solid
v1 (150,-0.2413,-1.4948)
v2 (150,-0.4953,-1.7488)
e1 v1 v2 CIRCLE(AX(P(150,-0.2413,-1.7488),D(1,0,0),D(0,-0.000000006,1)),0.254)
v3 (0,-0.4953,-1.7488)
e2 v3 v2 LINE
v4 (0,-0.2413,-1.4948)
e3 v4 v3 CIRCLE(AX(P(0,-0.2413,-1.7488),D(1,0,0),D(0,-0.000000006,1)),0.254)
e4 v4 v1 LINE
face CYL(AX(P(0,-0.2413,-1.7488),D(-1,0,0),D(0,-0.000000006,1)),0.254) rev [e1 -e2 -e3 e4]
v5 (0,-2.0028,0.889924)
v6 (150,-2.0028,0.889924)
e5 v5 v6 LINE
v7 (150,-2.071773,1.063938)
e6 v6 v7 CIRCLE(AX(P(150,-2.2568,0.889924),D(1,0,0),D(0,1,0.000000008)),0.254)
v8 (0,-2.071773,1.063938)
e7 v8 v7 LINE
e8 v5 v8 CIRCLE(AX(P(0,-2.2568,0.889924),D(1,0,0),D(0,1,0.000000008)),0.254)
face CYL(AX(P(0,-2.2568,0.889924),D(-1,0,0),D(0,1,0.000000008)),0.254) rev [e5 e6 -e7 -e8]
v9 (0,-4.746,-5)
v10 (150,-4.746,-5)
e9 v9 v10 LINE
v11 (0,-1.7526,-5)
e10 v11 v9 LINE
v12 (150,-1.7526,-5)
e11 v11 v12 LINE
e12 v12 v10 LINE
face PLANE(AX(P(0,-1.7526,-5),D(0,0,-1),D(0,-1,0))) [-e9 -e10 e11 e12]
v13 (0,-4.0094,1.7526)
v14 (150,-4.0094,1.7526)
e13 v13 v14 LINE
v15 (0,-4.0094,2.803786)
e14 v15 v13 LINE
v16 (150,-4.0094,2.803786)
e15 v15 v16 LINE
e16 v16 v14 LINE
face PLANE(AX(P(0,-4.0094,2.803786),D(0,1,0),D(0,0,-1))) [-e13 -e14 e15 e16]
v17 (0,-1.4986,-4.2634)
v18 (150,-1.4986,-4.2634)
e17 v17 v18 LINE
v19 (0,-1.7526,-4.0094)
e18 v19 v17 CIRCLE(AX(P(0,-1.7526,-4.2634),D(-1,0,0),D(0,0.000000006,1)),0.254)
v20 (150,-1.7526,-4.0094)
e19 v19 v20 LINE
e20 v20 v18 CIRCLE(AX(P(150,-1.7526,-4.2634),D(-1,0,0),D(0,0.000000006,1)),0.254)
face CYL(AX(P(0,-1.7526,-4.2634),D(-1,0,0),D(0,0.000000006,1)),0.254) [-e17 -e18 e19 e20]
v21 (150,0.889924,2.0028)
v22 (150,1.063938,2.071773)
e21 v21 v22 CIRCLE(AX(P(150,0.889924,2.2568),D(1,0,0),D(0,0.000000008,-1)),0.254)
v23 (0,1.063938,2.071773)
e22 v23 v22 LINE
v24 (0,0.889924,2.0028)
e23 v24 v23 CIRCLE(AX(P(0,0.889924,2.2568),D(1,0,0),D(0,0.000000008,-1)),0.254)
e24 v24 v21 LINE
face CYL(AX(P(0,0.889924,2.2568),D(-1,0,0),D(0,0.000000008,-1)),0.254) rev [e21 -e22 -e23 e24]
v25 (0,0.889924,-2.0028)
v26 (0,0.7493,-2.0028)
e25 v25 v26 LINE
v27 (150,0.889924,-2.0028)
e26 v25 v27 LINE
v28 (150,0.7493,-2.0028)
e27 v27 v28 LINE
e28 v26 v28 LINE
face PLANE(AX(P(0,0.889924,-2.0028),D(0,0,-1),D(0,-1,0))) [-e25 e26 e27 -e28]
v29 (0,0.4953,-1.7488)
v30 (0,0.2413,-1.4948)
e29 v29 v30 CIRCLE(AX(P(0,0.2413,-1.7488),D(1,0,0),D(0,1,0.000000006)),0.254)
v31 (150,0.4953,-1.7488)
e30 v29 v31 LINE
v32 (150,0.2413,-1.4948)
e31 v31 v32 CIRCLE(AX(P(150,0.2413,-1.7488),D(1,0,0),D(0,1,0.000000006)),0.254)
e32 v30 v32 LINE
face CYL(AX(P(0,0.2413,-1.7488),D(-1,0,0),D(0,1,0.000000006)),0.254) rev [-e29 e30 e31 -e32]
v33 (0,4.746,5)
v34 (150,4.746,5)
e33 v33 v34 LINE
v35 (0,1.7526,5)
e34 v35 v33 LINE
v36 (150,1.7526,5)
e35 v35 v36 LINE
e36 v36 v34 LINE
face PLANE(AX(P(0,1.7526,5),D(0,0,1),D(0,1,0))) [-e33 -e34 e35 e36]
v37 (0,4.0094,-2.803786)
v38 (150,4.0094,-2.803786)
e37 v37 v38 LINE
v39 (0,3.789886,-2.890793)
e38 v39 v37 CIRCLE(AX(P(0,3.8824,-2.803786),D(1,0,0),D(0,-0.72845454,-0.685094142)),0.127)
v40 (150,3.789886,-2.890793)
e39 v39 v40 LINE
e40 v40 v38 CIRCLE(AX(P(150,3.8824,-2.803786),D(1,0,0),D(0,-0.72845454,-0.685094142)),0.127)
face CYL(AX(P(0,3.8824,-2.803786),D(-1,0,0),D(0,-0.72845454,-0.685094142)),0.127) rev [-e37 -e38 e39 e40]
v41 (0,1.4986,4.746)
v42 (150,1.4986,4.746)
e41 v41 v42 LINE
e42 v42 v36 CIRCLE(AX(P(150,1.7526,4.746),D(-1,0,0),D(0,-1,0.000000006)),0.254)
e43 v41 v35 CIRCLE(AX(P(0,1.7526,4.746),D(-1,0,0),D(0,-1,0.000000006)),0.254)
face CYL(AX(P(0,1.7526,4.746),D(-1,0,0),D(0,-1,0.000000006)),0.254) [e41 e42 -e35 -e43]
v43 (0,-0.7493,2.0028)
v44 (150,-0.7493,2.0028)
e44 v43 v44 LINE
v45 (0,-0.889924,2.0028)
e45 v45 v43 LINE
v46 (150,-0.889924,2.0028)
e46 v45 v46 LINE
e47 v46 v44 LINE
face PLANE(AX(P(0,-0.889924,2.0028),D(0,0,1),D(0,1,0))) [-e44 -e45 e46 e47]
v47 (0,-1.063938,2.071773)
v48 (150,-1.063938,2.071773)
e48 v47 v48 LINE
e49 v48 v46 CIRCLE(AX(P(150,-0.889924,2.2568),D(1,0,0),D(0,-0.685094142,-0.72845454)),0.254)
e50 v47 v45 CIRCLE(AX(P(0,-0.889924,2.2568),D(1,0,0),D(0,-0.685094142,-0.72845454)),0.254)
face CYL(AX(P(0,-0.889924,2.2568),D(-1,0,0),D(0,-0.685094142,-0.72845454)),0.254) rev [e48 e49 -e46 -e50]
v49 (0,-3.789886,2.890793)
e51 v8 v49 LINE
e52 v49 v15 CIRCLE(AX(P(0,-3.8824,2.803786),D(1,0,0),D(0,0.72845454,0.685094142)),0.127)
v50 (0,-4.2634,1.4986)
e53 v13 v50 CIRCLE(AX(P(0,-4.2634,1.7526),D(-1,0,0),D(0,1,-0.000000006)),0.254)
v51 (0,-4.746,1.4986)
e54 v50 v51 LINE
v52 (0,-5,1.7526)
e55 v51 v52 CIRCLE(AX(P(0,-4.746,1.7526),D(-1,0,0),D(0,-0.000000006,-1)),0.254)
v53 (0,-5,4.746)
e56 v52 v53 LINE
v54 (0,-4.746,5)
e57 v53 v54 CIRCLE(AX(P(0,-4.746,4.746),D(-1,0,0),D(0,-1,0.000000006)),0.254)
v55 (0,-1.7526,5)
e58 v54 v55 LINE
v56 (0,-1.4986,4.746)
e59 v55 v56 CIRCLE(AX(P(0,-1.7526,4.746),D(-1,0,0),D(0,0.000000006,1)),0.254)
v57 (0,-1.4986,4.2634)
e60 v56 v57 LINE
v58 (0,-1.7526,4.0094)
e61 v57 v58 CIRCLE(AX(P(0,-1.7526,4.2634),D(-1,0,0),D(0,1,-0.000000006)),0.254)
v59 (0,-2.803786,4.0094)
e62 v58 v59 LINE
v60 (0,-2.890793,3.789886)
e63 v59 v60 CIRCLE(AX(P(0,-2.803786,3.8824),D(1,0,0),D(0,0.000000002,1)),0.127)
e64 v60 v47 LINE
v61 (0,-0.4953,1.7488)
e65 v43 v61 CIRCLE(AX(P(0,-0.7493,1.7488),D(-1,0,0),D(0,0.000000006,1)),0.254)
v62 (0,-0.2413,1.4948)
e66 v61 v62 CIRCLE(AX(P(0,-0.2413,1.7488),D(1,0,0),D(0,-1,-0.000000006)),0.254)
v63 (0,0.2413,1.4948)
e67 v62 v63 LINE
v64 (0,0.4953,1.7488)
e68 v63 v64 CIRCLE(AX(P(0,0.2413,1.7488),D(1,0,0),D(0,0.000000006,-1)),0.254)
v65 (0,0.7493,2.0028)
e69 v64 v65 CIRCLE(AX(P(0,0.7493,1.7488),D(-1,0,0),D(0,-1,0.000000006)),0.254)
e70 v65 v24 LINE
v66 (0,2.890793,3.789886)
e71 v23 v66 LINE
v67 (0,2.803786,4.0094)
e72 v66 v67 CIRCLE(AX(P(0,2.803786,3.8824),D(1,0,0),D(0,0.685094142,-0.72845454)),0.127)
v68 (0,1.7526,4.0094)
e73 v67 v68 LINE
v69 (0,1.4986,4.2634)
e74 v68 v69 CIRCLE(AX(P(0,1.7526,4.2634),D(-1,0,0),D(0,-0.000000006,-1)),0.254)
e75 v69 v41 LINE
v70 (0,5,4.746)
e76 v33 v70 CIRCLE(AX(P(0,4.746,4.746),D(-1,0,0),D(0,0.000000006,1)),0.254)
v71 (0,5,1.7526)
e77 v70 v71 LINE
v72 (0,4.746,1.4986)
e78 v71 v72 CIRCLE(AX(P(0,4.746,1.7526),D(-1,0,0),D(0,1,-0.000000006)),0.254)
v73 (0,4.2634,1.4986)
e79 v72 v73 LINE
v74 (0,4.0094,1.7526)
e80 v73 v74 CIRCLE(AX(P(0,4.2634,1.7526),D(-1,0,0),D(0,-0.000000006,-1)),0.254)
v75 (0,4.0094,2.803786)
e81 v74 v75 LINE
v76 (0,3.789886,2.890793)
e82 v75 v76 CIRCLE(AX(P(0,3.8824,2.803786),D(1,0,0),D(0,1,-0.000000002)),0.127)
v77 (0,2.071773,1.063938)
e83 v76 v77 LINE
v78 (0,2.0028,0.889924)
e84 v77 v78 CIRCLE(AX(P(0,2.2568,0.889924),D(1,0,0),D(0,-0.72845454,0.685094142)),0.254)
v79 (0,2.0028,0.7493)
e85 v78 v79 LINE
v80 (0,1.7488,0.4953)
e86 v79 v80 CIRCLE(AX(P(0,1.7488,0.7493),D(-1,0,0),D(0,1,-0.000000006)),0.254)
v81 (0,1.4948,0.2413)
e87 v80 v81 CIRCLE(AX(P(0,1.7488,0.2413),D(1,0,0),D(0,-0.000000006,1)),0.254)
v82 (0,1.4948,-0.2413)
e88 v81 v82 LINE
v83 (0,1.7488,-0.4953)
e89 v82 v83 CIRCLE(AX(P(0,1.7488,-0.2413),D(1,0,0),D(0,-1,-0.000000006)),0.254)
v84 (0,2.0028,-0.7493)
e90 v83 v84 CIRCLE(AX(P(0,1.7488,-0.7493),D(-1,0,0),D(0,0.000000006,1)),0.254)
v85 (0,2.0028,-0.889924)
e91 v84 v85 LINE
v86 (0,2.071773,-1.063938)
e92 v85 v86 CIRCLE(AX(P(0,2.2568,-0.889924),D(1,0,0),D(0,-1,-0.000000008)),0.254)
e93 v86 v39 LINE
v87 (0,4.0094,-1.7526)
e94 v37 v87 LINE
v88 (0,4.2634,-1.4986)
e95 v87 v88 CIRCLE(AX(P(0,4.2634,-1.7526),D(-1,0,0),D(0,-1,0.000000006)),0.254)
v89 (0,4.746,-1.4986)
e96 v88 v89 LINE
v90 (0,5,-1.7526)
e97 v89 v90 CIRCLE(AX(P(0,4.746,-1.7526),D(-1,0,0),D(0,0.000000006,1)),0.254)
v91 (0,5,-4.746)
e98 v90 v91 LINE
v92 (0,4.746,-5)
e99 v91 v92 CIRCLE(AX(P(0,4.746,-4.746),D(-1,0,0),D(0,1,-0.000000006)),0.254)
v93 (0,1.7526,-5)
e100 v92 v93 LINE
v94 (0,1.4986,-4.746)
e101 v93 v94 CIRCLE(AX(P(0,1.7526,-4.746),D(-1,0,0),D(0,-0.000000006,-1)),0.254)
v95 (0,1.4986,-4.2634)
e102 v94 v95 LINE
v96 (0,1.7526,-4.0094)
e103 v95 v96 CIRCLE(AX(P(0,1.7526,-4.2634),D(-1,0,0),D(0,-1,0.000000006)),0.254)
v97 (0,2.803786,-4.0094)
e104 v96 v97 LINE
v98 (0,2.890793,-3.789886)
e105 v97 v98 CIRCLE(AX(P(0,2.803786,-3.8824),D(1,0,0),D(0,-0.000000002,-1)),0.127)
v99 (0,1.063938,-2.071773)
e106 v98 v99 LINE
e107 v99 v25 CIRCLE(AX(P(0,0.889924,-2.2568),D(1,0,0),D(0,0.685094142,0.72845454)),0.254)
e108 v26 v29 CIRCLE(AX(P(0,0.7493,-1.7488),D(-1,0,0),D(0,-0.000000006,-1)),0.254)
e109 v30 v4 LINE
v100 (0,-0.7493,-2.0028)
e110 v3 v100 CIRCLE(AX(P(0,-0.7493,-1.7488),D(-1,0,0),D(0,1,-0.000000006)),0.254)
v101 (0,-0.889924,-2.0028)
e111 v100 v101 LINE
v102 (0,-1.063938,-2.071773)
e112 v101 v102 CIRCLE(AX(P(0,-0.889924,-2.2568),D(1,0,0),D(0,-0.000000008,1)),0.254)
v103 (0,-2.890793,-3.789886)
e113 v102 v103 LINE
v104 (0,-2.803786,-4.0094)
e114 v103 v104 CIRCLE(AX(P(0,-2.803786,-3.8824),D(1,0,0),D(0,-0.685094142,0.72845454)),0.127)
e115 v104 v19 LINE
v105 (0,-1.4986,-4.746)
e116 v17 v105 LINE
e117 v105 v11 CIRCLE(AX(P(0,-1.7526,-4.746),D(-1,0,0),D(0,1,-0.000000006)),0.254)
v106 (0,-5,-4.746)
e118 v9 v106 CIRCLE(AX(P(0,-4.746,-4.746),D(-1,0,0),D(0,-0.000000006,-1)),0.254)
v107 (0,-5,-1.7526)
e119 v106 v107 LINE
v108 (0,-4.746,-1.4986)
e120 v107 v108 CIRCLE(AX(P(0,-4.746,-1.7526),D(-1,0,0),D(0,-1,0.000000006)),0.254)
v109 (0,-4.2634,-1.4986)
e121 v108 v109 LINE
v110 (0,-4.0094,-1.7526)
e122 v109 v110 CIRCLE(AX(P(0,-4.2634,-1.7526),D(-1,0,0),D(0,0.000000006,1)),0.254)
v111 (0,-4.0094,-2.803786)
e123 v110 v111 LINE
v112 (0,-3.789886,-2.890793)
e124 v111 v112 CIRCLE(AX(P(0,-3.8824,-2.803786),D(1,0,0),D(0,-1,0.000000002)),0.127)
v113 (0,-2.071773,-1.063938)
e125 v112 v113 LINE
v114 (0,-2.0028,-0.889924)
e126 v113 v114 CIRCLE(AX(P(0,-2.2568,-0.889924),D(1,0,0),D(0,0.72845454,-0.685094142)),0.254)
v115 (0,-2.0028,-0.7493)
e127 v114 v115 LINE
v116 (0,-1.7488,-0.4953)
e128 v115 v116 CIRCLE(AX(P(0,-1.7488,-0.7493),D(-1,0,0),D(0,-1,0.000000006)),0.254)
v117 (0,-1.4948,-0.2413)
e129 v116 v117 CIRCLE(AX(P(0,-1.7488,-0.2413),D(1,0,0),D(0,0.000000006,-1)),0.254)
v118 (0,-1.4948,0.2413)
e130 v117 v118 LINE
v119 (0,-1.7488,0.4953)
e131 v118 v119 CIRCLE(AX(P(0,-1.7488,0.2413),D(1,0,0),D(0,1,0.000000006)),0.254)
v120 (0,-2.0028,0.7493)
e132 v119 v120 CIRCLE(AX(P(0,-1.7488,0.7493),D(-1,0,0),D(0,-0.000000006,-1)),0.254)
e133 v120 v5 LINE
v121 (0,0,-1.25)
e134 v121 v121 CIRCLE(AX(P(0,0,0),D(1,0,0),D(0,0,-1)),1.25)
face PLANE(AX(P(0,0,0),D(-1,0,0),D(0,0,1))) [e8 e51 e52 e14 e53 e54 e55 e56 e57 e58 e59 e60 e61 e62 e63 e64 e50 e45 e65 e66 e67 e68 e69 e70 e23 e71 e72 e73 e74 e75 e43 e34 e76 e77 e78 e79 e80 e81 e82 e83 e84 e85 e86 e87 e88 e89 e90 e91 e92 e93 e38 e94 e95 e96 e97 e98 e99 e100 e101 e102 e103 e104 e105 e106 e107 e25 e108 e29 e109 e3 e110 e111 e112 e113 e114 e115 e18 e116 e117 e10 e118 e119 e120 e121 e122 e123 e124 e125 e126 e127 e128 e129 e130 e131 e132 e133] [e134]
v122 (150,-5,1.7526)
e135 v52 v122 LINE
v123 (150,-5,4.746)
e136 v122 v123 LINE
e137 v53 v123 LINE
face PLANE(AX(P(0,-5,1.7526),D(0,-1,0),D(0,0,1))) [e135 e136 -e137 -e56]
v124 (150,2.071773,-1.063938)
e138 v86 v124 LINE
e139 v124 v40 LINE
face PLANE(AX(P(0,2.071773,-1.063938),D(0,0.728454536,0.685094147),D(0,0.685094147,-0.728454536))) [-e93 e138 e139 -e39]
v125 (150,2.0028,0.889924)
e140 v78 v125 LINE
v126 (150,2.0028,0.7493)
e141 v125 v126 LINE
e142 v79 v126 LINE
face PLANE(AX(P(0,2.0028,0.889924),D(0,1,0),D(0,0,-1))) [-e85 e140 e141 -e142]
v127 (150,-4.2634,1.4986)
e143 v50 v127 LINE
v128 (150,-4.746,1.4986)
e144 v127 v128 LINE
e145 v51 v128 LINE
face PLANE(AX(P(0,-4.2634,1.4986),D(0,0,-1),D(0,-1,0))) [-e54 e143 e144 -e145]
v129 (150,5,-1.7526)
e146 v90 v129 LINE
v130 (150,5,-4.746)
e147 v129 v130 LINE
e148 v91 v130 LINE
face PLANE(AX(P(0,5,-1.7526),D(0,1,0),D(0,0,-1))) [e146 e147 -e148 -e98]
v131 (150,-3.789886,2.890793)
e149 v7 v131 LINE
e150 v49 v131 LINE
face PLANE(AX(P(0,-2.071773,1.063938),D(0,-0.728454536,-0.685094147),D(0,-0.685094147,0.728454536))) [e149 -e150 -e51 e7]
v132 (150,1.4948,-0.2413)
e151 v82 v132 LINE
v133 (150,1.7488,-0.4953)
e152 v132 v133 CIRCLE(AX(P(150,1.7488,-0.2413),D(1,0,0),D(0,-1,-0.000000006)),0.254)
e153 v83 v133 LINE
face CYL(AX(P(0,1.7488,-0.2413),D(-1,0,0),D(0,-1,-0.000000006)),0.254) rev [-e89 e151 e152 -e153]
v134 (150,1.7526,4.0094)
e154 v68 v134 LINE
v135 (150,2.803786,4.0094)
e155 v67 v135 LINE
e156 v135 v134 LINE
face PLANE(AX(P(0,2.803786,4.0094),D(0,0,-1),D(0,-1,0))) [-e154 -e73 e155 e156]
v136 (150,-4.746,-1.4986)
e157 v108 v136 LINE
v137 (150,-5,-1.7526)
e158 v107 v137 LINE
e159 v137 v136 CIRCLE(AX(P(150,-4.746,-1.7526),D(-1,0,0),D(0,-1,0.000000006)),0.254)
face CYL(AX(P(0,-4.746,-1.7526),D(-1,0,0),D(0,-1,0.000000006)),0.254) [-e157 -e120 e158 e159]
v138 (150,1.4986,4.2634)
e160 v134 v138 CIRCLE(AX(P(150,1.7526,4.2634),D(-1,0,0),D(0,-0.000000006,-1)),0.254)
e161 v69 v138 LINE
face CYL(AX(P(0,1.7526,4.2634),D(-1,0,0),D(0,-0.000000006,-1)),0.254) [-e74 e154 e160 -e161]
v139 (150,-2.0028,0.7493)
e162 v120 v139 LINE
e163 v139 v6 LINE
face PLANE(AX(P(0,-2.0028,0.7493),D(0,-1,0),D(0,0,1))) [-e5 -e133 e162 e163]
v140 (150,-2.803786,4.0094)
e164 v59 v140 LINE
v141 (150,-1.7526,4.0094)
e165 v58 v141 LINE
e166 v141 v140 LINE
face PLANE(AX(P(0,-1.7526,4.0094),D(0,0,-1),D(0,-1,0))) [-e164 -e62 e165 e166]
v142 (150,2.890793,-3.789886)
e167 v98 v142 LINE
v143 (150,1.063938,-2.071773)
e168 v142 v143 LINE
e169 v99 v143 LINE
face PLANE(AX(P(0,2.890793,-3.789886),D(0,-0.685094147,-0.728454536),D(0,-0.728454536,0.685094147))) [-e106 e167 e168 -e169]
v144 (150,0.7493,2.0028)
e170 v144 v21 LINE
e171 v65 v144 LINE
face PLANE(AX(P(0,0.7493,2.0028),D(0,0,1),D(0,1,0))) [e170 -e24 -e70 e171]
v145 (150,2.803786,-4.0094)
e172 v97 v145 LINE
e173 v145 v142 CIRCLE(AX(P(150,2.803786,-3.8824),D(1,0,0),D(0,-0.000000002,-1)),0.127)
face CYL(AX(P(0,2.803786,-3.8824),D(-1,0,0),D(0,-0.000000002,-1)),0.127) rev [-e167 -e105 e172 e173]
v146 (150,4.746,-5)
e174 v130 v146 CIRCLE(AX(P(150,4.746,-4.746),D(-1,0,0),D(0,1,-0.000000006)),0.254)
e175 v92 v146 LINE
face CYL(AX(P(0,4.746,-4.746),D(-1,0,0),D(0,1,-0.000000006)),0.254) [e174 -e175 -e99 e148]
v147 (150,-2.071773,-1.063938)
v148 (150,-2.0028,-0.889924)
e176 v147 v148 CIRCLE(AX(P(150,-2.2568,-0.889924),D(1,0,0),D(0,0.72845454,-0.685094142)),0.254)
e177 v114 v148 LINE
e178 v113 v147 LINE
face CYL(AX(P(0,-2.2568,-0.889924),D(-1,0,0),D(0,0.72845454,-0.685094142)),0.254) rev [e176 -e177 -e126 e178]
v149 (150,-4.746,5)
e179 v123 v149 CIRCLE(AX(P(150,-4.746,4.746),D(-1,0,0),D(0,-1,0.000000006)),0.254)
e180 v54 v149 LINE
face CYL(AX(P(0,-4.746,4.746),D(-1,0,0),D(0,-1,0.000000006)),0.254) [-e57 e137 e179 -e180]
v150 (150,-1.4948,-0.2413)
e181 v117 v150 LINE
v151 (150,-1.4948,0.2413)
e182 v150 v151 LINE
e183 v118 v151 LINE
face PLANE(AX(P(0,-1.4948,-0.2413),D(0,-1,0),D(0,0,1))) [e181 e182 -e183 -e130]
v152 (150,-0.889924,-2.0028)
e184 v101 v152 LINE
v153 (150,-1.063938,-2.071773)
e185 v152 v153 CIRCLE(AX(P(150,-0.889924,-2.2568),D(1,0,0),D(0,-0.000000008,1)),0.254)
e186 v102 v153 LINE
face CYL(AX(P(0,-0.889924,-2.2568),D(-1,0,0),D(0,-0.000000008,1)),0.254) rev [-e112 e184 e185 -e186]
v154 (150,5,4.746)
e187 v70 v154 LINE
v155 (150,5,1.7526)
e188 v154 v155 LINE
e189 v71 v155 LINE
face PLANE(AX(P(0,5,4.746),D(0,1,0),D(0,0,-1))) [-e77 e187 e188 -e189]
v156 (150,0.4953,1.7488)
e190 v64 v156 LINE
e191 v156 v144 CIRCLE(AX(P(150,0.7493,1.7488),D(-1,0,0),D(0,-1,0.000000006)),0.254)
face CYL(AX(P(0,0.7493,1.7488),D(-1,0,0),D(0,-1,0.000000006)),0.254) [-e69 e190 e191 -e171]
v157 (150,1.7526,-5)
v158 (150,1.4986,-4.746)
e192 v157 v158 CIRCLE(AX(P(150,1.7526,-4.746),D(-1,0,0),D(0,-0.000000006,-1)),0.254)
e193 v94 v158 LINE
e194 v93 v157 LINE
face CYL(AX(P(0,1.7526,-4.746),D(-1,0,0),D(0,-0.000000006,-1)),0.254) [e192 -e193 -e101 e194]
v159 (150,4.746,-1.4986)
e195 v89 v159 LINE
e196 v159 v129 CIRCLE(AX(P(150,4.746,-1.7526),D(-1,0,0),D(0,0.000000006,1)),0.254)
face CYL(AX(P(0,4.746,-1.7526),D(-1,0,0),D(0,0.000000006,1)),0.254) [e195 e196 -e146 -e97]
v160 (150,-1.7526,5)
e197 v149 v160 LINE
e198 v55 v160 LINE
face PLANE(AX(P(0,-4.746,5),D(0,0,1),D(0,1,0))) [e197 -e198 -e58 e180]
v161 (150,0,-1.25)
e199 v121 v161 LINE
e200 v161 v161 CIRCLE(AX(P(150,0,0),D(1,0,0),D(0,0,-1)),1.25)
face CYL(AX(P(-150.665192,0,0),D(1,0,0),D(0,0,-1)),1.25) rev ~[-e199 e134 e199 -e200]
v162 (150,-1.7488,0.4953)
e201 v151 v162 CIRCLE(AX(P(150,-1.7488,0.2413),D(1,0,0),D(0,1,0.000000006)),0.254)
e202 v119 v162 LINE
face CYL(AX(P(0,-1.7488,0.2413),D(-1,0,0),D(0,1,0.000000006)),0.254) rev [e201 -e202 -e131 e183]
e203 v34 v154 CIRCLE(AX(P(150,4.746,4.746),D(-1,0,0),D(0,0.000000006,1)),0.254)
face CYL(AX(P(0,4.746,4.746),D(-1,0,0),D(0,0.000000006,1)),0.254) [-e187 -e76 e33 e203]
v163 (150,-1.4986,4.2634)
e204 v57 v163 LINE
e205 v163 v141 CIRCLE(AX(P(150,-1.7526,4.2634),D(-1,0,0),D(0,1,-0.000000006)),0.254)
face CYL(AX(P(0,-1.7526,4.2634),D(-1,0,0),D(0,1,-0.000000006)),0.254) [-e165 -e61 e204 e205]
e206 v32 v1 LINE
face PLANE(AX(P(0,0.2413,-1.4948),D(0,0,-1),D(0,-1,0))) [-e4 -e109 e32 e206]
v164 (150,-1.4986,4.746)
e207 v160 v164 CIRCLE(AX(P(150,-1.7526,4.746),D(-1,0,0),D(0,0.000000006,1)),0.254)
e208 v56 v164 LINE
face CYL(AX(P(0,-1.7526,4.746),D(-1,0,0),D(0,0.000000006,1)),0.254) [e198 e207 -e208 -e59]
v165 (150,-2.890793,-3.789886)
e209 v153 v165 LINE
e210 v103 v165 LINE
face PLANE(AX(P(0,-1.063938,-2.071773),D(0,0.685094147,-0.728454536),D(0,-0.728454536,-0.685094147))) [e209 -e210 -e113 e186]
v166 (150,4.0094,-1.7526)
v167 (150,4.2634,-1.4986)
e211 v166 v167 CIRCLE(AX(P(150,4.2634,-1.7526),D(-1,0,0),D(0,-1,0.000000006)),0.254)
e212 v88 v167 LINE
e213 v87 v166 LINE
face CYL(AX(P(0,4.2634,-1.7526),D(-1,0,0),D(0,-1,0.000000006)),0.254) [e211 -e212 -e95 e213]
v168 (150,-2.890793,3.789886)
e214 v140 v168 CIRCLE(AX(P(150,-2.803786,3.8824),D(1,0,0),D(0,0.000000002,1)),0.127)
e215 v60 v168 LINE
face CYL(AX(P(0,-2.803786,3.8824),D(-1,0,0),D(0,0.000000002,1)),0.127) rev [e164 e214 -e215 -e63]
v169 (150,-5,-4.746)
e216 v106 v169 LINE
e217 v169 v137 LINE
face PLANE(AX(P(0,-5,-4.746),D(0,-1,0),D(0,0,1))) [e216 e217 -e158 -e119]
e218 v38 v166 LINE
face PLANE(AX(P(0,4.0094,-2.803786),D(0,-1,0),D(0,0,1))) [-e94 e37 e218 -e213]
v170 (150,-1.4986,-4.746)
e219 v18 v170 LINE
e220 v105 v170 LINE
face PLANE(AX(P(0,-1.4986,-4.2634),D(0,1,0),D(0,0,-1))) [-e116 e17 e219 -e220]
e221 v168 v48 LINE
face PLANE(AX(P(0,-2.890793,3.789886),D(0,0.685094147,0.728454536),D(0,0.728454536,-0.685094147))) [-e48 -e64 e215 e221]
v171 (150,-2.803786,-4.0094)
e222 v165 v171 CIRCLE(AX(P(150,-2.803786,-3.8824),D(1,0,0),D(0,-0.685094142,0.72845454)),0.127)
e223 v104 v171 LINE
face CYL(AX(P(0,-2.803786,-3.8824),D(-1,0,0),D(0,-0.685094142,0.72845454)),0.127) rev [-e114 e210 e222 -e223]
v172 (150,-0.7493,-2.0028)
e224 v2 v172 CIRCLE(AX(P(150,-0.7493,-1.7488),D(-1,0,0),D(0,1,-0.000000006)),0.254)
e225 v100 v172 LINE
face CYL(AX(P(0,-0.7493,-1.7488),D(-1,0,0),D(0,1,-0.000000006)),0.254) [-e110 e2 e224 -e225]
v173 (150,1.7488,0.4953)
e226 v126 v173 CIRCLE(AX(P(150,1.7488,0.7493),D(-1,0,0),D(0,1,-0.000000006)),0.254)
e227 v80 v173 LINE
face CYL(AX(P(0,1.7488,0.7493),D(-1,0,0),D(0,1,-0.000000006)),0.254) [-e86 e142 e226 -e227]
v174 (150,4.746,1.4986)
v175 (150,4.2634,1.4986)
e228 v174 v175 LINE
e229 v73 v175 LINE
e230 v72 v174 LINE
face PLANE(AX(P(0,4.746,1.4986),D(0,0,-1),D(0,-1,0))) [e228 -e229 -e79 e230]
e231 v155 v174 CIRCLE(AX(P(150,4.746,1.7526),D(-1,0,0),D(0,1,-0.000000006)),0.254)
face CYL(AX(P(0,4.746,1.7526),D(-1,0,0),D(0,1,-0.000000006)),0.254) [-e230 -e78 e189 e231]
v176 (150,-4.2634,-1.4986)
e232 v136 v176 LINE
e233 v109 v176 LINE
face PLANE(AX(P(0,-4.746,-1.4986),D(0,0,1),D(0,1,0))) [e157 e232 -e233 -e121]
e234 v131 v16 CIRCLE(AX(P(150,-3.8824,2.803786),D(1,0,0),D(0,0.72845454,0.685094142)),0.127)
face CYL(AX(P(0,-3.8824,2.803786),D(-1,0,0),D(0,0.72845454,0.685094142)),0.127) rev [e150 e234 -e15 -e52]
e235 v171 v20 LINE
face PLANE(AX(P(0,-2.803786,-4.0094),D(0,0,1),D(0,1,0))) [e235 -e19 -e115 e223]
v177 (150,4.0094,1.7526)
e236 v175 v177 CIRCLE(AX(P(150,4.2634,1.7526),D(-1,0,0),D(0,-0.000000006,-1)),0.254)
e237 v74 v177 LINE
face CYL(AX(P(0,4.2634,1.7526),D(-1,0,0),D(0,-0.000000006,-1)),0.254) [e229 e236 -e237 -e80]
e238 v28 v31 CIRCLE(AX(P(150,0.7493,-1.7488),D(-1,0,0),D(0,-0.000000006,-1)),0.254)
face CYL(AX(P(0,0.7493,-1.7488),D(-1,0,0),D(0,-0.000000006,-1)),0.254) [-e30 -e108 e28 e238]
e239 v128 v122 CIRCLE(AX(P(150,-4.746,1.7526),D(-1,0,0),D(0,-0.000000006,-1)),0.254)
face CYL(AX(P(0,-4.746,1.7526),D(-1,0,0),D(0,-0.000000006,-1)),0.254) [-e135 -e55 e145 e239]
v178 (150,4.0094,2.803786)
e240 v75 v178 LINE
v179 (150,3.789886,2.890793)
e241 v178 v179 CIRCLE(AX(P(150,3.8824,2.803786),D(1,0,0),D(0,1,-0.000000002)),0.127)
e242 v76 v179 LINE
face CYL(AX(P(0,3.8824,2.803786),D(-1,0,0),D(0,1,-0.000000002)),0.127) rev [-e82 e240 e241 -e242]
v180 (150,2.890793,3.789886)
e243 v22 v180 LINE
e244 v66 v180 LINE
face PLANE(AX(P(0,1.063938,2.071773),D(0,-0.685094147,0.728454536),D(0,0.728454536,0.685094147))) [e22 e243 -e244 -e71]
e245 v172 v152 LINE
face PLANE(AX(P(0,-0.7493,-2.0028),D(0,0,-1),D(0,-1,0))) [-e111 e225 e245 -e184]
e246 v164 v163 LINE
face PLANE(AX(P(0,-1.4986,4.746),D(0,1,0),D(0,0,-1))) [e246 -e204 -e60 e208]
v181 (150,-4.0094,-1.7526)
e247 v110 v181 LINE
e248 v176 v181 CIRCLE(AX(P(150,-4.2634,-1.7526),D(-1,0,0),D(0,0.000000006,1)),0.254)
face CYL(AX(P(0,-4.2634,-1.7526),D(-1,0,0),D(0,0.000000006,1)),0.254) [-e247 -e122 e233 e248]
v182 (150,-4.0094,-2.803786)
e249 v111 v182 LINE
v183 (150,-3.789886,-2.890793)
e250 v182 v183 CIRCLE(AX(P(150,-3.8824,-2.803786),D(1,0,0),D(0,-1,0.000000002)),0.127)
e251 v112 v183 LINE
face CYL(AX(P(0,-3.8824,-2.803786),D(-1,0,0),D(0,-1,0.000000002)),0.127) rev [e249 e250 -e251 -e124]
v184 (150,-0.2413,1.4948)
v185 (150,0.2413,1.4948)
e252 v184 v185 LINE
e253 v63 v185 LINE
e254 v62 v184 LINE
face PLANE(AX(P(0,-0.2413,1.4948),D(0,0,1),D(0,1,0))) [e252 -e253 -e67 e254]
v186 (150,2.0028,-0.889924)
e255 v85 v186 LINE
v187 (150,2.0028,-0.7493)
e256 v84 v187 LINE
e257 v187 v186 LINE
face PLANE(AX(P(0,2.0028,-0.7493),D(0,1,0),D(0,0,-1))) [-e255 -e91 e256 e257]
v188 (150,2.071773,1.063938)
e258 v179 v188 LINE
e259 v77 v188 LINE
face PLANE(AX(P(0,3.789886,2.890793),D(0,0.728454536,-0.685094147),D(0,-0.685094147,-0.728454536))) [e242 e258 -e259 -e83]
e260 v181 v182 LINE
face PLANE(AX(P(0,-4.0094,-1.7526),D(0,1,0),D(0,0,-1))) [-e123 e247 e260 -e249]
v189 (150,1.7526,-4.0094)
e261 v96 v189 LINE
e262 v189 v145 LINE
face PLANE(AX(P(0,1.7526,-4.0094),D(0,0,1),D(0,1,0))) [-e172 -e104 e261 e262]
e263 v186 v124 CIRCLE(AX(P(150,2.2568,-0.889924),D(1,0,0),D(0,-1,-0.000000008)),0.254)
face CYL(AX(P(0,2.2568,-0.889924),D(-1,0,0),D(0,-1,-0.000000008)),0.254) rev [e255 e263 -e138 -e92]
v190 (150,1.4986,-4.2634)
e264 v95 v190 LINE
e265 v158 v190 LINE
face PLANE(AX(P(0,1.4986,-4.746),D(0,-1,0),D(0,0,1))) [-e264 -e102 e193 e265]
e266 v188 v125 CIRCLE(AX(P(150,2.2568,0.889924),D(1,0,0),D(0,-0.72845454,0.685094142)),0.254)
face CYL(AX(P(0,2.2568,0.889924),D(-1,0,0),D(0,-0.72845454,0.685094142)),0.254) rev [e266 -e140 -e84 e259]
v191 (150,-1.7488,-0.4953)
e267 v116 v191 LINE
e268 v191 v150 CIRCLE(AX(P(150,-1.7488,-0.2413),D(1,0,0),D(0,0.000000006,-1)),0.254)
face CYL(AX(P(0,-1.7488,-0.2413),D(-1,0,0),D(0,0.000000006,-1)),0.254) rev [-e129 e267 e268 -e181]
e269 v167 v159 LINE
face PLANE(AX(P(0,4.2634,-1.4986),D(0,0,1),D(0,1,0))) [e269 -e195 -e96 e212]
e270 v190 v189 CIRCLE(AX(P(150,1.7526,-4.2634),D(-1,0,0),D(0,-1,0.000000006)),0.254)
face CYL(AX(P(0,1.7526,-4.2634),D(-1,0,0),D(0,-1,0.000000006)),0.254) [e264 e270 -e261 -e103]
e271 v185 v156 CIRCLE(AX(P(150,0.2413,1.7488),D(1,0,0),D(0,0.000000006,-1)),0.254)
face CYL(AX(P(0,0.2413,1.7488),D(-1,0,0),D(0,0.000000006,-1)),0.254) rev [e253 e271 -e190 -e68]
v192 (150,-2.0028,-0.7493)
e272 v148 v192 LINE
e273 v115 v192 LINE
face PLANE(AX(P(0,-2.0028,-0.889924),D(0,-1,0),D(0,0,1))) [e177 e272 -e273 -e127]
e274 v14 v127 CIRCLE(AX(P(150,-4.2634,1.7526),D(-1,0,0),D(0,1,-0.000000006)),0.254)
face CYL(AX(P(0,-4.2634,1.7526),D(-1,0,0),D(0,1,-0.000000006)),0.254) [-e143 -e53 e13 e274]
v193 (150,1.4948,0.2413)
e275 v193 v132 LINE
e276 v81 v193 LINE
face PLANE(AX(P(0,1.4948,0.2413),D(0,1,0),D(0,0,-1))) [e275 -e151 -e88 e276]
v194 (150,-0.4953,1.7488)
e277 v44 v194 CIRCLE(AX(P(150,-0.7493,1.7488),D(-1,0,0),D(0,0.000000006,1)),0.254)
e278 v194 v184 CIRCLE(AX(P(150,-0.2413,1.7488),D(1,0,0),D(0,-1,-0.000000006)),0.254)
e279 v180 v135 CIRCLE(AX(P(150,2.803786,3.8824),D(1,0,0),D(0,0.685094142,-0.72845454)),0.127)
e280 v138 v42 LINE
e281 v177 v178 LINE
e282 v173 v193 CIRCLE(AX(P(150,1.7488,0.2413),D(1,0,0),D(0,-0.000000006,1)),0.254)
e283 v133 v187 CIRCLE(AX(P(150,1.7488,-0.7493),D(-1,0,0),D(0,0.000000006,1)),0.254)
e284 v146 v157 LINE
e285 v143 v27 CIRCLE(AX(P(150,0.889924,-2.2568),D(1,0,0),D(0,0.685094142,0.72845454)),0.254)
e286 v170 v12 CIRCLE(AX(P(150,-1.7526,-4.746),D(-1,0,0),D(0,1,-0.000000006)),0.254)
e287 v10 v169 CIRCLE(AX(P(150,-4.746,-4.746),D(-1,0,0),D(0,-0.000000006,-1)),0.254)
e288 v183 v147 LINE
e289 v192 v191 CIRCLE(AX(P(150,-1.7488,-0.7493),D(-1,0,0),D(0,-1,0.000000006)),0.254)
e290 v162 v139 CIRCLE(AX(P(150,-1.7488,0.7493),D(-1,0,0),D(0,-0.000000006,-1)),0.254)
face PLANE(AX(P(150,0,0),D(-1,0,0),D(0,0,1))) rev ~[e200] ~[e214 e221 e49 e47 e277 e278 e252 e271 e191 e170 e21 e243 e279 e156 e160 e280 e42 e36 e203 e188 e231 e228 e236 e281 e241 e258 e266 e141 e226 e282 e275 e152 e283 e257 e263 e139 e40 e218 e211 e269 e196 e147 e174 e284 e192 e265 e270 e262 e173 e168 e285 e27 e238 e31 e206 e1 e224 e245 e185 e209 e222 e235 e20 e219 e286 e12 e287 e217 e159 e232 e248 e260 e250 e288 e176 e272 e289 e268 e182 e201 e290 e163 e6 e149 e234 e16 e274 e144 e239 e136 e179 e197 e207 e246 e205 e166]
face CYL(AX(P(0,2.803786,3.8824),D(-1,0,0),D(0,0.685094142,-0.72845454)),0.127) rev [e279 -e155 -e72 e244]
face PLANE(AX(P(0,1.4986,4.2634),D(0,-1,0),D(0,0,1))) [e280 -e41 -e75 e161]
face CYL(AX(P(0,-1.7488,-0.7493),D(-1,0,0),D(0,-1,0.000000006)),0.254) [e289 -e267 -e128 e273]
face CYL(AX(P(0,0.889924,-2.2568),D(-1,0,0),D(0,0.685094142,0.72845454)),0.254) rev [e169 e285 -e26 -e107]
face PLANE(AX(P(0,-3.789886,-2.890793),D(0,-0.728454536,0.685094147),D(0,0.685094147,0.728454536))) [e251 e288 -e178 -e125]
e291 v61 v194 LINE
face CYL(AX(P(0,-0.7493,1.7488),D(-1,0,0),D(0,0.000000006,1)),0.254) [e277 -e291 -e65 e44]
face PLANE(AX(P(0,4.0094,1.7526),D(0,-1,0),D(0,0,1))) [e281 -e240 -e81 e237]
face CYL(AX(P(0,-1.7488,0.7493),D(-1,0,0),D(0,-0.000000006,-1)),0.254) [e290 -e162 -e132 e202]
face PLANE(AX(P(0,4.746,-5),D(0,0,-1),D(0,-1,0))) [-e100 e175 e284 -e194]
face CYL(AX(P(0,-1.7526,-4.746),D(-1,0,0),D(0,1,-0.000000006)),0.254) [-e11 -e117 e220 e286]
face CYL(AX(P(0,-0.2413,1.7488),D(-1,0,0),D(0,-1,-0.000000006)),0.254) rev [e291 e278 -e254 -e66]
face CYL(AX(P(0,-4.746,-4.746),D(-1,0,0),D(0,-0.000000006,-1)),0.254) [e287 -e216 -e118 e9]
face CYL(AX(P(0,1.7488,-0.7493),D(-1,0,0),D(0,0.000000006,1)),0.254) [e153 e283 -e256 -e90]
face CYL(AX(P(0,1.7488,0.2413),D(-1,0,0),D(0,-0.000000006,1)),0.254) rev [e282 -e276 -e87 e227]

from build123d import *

# Parameters (mm, degrees)
ESTRUSIONE_ESTRUSIONE1_DEPTH = 150
FORO_FILETTATO_M3X0_5_1_D    = 2.5


with BuildPart() as part:
    # Sketch1 → Estrusione-Estrusione1 (new body)
    with BuildSketch(Plane(origin=(0, 0, 0), x_dir=(0, 0, -1), z_dir=(1, 0, 0))):
        with BuildLine():
            Line((-0.2413, 1.4948), (0.2413, 1.4948))
            ThreePointArc((0.2413, 1.4948), (0.420905122, 1.569194878), (0.4953, 1.7488))
            ThreePointArc((0.4953, 1.7488), (0.569694878, 1.928405122), (0.7493, 2.0028))
            Line((0.7493, 2.0028), (0.889923986, 2.0028))
            ThreePointArc((0.889923986, 2.0028), (0.983516259, 2.020671886), (1.063937899, 2.071772548))
            Line((1.063937899, 2.071772548), (2.890793, 3.789886274))
            ThreePointArc((2.890793, 3.789886274), (2.921850101, 3.929196137), (2.803786044, 4.0094))
            Line((2.803786044, 4.0094), (1.7526, 4.0094))
            ThreePointArc((1.7526, 4.0094), (1.572994878, 4.083794878), (1.4986, 4.2634))
            Line((1.4986, 4.2634), (1.4986, 4.746))
            ThreePointArc((1.4986, 4.746), (1.572994878, 4.925605122), (1.7526, 5))
            Line((1.7526, 5), (4.746, 5))
            ThreePointArc((4.746, 5), (4.925605122, 4.925605122), (5, 4.746))
            Line((5, 4.746), (5, 1.7526))
            ThreePointArc((5, 1.7526), (4.925605122, 1.572994878), (4.746, 1.4986))
            Line((4.746, 1.4986), (4.2634, 1.4986))
            ThreePointArc((4.2634, 1.4986), (4.083794878, 1.572994878), (4.0094, 1.7526))
            Line((4.0094, 1.7526), (4.0094, 2.803786044))
            ThreePointArc((4.0094, 2.803786044), (3.929196137, 2.921850101), (3.789886274, 2.890793))
            Line((3.789886274, 2.890793), (2.071772548, 1.063937899))
            ThreePointArc((2.071772548, 1.063937899), (2.020671886, 0.983516259), (2.0028, 0.889923986))
            Line((2.0028, 0.889923986), (2.0028, 0.7493))
            ThreePointArc((2.0028, 0.7493), (1.928405122, 0.569694878), (1.7488, 0.4953))
            ThreePointArc((1.7488, 0.4953), (1.569194878, 0.420905122), (1.4948, 0.2413))
            Line((1.4948, 0.2413), (1.4948, -0.2413))
            ThreePointArc((1.4948, -0.2413), (1.569194878, -0.420905122), (1.7488, -0.4953))
            ThreePointArc((1.7488, -0.4953), (1.928405122, -0.569694878), (2.0028, -0.7493))
            Line((2.0028, -0.7493), (2.0028, -0.889923986))
            ThreePointArc((2.0028, -0.889923986), (2.020671886, -0.983516259), (2.071772548, -1.063937899))
            Line((2.071772548, -1.063937899), (3.789886274, -2.890793))
            ThreePointArc((3.789886274, -2.890793), (3.929196137, -2.921850101), (4.0094, -2.803786044))
            Line((4.0094, -2.803786044), (4.0094, -1.7526))
            ThreePointArc((4.0094, -1.7526), (4.083794878, -1.572994878), (4.2634, -1.4986))
            Line((4.2634, -1.4986), (4.746, -1.4986))
            ThreePointArc((4.746, -1.4986), (4.925605122, -1.572994878), (5, -1.7526))
            Line((5, -1.7526), (5, -4.746))
            ThreePointArc((5, -4.746), (4.925605122, -4.925605122), (4.746, -5))
            Line((4.746, -5), (1.7526, -5))
            ThreePointArc((1.7526, -5), (1.572994878, -4.925605122), (1.4986, -4.746))
            Line((1.4986, -4.746), (1.4986, -4.2634))
            ThreePointArc((1.4986, -4.2634), (1.572994878, -4.083794878), (1.7526, -4.0094))
            Line((1.7526, -4.0094), (2.803786044, -4.0094))
            ThreePointArc((2.803786044, -4.0094), (2.921850101, -3.929196137), (2.890793, -3.789886274))
            Line((2.890793, -3.789886274), (1.063937899, -2.071772548))
            ThreePointArc((1.063937899, -2.071772548), (0.983516259, -2.020671886), (0.889923986, -2.0028))
            Line((0.889923986, -2.0028), (0.7493, -2.0028))
            ThreePointArc((0.7493, -2.0028), (0.569694878, -1.928405122), (0.4953, -1.7488))
            ThreePointArc((0.4953, -1.7488), (0.420905122, -1.569194878), (0.2413, -1.4948))
            Line((0.2413, -1.4948), (-0.2413, -1.4948))
            ThreePointArc((-0.2413, -1.4948), (-0.420905122, -1.569194878), (-0.4953, -1.7488))
            ThreePointArc((-0.4953, -1.7488), (-0.569694878, -1.928405122), (-0.7493, -2.0028))
            Line((-0.7493, -2.0028), (-0.889923986, -2.0028))
            ThreePointArc((-0.889923986, -2.0028), (-0.983516259, -2.020671886), (-1.063937899, -2.071772548))
            Line((-1.063937899, -2.071772548), (-2.890793, -3.789886274))
            ThreePointArc((-2.890793, -3.789886274), (-2.921850101, -3.929196137), (-2.803786044, -4.0094))
            Line((-2.803786044, -4.0094), (-1.7526, -4.0094))
            ThreePointArc((-1.7526, -4.0094), (-1.572994878, -4.083794878), (-1.4986, -4.2634))
            Line((-1.4986, -4.2634), (-1.4986, -4.746))
            ThreePointArc((-1.4986, -4.746), (-1.572994878, -4.925605122), (-1.7526, -5))
            Line((-1.7526, -5), (-4.746, -5))
            ThreePointArc((-4.746, -5), (-4.925605122, -4.925605122), (-5, -4.746))
            Line((-5, -4.746), (-5, -1.7526))
            ThreePointArc((-5, -1.7526), (-4.925605122, -1.572994878), (-4.746, -1.4986))
            Line((-4.746, -1.4986), (-4.2634, -1.4986))
            ThreePointArc((-4.2634, -1.4986), (-4.083794878, -1.572994878), (-4.0094, -1.7526))
            Line((-4.0094, -1.7526), (-4.0094, -2.803786044))
            ThreePointArc((-4.0094, -2.803786044), (-3.929196137, -2.921850101), (-3.789886274, -2.890793))
            Line((-3.789886274, -2.890793), (-2.071772548, -1.063937899))
            ThreePointArc((-2.071772548, -1.063937899), (-2.020671886, -0.983516259), (-2.0028, -0.889923986))
            Line((-2.0028, -0.889923986), (-2.0028, -0.7493))
            ThreePointArc((-2.0028, -0.7493), (-1.928405122, -0.569694878), (-1.7488, -0.4953))
            ThreePointArc((-1.7488, -0.4953), (-1.569194878, -0.420905122), (-1.4948, -0.2413))
            Line((-1.4948, -0.2413), (-1.4948, 0.2413))
            ThreePointArc((-1.4948, 0.2413), (-1.569194878, 0.420905122), (-1.7488, 0.4953))
            ThreePointArc((-1.7488, 0.4953), (-1.928405122, 0.569694878), (-2.0028, 0.7493))
            Line((-2.0028, 0.7493), (-2.0028, 0.889923986))
            ThreePointArc((-2.0028, 0.889923986), (-2.020671886, 0.983516259), (-2.071772548, 1.063937899))
            Line((-2.071772548, 1.063937899), (-3.789886274, 2.890793))
            ThreePointArc((-3.789886274, 2.890793), (-3.929196137, 2.921850101), (-4.0094, 2.803786044))
            Line((-4.0094, 2.803786044), (-4.0094, 1.7526))
            ThreePointArc((-4.0094, 1.7526), (-4.083794878, 1.572994878), (-4.2634, 1.4986))
            Line((-4.2634, 1.4986), (-4.746, 1.4986))
            ThreePointArc((-4.746, 1.4986), (-4.925605122, 1.572994878), (-5, 1.7526))
            Line((-5, 1.7526), (-5, 4.746))
            ThreePointArc((-5, 4.746), (-4.925605122, 4.925605122), (-4.746, 5))
            Line((-4.746, 5), (-1.7526, 5))
            ThreePointArc((-1.7526, 5), (-1.572994878, 4.925605122), (-1.4986, 4.746))
            Line((-1.4986, 4.746), (-1.4986, 4.2634))
            ThreePointArc((-1.4986, 4.2634), (-1.572994878, 4.083794878), (-1.7526, 4.0094))
            Line((-1.7526, 4.0094), (-2.803786044, 4.0094))
            ThreePointArc((-2.803786044, 4.0094), (-2.921850101, 3.929196137), (-2.890793, 3.789886274))
            Line((-2.890793, 3.789886274), (-1.063937899, 2.071772548))
            ThreePointArc((-1.063937899, 2.071772548), (-0.983516259, 2.020671886), (-0.889923986, 2.0028))
            Line((-0.889923986, 2.0028), (-0.7493, 2.0028))
            ThreePointArc((-0.7493, 2.0028), (-0.569694878, 1.928405122), (-0.4953, 1.7488))
            ThreePointArc((-0.4953, 1.7488), (-0.420905122, 1.569194878), (-0.2413, 1.4948))
        make_face()
    extrude(amount=ESTRUSIONE_ESTRUSIONE1_DEPTH)

    # Foro filettato M3x0.5-1 (through all)
    with Locations(Plane.ZY):
        with Locations((0, 0)):
            Hole(FORO_FILETTATO_M3X0_5_1_D / 2)


solid = part.part
